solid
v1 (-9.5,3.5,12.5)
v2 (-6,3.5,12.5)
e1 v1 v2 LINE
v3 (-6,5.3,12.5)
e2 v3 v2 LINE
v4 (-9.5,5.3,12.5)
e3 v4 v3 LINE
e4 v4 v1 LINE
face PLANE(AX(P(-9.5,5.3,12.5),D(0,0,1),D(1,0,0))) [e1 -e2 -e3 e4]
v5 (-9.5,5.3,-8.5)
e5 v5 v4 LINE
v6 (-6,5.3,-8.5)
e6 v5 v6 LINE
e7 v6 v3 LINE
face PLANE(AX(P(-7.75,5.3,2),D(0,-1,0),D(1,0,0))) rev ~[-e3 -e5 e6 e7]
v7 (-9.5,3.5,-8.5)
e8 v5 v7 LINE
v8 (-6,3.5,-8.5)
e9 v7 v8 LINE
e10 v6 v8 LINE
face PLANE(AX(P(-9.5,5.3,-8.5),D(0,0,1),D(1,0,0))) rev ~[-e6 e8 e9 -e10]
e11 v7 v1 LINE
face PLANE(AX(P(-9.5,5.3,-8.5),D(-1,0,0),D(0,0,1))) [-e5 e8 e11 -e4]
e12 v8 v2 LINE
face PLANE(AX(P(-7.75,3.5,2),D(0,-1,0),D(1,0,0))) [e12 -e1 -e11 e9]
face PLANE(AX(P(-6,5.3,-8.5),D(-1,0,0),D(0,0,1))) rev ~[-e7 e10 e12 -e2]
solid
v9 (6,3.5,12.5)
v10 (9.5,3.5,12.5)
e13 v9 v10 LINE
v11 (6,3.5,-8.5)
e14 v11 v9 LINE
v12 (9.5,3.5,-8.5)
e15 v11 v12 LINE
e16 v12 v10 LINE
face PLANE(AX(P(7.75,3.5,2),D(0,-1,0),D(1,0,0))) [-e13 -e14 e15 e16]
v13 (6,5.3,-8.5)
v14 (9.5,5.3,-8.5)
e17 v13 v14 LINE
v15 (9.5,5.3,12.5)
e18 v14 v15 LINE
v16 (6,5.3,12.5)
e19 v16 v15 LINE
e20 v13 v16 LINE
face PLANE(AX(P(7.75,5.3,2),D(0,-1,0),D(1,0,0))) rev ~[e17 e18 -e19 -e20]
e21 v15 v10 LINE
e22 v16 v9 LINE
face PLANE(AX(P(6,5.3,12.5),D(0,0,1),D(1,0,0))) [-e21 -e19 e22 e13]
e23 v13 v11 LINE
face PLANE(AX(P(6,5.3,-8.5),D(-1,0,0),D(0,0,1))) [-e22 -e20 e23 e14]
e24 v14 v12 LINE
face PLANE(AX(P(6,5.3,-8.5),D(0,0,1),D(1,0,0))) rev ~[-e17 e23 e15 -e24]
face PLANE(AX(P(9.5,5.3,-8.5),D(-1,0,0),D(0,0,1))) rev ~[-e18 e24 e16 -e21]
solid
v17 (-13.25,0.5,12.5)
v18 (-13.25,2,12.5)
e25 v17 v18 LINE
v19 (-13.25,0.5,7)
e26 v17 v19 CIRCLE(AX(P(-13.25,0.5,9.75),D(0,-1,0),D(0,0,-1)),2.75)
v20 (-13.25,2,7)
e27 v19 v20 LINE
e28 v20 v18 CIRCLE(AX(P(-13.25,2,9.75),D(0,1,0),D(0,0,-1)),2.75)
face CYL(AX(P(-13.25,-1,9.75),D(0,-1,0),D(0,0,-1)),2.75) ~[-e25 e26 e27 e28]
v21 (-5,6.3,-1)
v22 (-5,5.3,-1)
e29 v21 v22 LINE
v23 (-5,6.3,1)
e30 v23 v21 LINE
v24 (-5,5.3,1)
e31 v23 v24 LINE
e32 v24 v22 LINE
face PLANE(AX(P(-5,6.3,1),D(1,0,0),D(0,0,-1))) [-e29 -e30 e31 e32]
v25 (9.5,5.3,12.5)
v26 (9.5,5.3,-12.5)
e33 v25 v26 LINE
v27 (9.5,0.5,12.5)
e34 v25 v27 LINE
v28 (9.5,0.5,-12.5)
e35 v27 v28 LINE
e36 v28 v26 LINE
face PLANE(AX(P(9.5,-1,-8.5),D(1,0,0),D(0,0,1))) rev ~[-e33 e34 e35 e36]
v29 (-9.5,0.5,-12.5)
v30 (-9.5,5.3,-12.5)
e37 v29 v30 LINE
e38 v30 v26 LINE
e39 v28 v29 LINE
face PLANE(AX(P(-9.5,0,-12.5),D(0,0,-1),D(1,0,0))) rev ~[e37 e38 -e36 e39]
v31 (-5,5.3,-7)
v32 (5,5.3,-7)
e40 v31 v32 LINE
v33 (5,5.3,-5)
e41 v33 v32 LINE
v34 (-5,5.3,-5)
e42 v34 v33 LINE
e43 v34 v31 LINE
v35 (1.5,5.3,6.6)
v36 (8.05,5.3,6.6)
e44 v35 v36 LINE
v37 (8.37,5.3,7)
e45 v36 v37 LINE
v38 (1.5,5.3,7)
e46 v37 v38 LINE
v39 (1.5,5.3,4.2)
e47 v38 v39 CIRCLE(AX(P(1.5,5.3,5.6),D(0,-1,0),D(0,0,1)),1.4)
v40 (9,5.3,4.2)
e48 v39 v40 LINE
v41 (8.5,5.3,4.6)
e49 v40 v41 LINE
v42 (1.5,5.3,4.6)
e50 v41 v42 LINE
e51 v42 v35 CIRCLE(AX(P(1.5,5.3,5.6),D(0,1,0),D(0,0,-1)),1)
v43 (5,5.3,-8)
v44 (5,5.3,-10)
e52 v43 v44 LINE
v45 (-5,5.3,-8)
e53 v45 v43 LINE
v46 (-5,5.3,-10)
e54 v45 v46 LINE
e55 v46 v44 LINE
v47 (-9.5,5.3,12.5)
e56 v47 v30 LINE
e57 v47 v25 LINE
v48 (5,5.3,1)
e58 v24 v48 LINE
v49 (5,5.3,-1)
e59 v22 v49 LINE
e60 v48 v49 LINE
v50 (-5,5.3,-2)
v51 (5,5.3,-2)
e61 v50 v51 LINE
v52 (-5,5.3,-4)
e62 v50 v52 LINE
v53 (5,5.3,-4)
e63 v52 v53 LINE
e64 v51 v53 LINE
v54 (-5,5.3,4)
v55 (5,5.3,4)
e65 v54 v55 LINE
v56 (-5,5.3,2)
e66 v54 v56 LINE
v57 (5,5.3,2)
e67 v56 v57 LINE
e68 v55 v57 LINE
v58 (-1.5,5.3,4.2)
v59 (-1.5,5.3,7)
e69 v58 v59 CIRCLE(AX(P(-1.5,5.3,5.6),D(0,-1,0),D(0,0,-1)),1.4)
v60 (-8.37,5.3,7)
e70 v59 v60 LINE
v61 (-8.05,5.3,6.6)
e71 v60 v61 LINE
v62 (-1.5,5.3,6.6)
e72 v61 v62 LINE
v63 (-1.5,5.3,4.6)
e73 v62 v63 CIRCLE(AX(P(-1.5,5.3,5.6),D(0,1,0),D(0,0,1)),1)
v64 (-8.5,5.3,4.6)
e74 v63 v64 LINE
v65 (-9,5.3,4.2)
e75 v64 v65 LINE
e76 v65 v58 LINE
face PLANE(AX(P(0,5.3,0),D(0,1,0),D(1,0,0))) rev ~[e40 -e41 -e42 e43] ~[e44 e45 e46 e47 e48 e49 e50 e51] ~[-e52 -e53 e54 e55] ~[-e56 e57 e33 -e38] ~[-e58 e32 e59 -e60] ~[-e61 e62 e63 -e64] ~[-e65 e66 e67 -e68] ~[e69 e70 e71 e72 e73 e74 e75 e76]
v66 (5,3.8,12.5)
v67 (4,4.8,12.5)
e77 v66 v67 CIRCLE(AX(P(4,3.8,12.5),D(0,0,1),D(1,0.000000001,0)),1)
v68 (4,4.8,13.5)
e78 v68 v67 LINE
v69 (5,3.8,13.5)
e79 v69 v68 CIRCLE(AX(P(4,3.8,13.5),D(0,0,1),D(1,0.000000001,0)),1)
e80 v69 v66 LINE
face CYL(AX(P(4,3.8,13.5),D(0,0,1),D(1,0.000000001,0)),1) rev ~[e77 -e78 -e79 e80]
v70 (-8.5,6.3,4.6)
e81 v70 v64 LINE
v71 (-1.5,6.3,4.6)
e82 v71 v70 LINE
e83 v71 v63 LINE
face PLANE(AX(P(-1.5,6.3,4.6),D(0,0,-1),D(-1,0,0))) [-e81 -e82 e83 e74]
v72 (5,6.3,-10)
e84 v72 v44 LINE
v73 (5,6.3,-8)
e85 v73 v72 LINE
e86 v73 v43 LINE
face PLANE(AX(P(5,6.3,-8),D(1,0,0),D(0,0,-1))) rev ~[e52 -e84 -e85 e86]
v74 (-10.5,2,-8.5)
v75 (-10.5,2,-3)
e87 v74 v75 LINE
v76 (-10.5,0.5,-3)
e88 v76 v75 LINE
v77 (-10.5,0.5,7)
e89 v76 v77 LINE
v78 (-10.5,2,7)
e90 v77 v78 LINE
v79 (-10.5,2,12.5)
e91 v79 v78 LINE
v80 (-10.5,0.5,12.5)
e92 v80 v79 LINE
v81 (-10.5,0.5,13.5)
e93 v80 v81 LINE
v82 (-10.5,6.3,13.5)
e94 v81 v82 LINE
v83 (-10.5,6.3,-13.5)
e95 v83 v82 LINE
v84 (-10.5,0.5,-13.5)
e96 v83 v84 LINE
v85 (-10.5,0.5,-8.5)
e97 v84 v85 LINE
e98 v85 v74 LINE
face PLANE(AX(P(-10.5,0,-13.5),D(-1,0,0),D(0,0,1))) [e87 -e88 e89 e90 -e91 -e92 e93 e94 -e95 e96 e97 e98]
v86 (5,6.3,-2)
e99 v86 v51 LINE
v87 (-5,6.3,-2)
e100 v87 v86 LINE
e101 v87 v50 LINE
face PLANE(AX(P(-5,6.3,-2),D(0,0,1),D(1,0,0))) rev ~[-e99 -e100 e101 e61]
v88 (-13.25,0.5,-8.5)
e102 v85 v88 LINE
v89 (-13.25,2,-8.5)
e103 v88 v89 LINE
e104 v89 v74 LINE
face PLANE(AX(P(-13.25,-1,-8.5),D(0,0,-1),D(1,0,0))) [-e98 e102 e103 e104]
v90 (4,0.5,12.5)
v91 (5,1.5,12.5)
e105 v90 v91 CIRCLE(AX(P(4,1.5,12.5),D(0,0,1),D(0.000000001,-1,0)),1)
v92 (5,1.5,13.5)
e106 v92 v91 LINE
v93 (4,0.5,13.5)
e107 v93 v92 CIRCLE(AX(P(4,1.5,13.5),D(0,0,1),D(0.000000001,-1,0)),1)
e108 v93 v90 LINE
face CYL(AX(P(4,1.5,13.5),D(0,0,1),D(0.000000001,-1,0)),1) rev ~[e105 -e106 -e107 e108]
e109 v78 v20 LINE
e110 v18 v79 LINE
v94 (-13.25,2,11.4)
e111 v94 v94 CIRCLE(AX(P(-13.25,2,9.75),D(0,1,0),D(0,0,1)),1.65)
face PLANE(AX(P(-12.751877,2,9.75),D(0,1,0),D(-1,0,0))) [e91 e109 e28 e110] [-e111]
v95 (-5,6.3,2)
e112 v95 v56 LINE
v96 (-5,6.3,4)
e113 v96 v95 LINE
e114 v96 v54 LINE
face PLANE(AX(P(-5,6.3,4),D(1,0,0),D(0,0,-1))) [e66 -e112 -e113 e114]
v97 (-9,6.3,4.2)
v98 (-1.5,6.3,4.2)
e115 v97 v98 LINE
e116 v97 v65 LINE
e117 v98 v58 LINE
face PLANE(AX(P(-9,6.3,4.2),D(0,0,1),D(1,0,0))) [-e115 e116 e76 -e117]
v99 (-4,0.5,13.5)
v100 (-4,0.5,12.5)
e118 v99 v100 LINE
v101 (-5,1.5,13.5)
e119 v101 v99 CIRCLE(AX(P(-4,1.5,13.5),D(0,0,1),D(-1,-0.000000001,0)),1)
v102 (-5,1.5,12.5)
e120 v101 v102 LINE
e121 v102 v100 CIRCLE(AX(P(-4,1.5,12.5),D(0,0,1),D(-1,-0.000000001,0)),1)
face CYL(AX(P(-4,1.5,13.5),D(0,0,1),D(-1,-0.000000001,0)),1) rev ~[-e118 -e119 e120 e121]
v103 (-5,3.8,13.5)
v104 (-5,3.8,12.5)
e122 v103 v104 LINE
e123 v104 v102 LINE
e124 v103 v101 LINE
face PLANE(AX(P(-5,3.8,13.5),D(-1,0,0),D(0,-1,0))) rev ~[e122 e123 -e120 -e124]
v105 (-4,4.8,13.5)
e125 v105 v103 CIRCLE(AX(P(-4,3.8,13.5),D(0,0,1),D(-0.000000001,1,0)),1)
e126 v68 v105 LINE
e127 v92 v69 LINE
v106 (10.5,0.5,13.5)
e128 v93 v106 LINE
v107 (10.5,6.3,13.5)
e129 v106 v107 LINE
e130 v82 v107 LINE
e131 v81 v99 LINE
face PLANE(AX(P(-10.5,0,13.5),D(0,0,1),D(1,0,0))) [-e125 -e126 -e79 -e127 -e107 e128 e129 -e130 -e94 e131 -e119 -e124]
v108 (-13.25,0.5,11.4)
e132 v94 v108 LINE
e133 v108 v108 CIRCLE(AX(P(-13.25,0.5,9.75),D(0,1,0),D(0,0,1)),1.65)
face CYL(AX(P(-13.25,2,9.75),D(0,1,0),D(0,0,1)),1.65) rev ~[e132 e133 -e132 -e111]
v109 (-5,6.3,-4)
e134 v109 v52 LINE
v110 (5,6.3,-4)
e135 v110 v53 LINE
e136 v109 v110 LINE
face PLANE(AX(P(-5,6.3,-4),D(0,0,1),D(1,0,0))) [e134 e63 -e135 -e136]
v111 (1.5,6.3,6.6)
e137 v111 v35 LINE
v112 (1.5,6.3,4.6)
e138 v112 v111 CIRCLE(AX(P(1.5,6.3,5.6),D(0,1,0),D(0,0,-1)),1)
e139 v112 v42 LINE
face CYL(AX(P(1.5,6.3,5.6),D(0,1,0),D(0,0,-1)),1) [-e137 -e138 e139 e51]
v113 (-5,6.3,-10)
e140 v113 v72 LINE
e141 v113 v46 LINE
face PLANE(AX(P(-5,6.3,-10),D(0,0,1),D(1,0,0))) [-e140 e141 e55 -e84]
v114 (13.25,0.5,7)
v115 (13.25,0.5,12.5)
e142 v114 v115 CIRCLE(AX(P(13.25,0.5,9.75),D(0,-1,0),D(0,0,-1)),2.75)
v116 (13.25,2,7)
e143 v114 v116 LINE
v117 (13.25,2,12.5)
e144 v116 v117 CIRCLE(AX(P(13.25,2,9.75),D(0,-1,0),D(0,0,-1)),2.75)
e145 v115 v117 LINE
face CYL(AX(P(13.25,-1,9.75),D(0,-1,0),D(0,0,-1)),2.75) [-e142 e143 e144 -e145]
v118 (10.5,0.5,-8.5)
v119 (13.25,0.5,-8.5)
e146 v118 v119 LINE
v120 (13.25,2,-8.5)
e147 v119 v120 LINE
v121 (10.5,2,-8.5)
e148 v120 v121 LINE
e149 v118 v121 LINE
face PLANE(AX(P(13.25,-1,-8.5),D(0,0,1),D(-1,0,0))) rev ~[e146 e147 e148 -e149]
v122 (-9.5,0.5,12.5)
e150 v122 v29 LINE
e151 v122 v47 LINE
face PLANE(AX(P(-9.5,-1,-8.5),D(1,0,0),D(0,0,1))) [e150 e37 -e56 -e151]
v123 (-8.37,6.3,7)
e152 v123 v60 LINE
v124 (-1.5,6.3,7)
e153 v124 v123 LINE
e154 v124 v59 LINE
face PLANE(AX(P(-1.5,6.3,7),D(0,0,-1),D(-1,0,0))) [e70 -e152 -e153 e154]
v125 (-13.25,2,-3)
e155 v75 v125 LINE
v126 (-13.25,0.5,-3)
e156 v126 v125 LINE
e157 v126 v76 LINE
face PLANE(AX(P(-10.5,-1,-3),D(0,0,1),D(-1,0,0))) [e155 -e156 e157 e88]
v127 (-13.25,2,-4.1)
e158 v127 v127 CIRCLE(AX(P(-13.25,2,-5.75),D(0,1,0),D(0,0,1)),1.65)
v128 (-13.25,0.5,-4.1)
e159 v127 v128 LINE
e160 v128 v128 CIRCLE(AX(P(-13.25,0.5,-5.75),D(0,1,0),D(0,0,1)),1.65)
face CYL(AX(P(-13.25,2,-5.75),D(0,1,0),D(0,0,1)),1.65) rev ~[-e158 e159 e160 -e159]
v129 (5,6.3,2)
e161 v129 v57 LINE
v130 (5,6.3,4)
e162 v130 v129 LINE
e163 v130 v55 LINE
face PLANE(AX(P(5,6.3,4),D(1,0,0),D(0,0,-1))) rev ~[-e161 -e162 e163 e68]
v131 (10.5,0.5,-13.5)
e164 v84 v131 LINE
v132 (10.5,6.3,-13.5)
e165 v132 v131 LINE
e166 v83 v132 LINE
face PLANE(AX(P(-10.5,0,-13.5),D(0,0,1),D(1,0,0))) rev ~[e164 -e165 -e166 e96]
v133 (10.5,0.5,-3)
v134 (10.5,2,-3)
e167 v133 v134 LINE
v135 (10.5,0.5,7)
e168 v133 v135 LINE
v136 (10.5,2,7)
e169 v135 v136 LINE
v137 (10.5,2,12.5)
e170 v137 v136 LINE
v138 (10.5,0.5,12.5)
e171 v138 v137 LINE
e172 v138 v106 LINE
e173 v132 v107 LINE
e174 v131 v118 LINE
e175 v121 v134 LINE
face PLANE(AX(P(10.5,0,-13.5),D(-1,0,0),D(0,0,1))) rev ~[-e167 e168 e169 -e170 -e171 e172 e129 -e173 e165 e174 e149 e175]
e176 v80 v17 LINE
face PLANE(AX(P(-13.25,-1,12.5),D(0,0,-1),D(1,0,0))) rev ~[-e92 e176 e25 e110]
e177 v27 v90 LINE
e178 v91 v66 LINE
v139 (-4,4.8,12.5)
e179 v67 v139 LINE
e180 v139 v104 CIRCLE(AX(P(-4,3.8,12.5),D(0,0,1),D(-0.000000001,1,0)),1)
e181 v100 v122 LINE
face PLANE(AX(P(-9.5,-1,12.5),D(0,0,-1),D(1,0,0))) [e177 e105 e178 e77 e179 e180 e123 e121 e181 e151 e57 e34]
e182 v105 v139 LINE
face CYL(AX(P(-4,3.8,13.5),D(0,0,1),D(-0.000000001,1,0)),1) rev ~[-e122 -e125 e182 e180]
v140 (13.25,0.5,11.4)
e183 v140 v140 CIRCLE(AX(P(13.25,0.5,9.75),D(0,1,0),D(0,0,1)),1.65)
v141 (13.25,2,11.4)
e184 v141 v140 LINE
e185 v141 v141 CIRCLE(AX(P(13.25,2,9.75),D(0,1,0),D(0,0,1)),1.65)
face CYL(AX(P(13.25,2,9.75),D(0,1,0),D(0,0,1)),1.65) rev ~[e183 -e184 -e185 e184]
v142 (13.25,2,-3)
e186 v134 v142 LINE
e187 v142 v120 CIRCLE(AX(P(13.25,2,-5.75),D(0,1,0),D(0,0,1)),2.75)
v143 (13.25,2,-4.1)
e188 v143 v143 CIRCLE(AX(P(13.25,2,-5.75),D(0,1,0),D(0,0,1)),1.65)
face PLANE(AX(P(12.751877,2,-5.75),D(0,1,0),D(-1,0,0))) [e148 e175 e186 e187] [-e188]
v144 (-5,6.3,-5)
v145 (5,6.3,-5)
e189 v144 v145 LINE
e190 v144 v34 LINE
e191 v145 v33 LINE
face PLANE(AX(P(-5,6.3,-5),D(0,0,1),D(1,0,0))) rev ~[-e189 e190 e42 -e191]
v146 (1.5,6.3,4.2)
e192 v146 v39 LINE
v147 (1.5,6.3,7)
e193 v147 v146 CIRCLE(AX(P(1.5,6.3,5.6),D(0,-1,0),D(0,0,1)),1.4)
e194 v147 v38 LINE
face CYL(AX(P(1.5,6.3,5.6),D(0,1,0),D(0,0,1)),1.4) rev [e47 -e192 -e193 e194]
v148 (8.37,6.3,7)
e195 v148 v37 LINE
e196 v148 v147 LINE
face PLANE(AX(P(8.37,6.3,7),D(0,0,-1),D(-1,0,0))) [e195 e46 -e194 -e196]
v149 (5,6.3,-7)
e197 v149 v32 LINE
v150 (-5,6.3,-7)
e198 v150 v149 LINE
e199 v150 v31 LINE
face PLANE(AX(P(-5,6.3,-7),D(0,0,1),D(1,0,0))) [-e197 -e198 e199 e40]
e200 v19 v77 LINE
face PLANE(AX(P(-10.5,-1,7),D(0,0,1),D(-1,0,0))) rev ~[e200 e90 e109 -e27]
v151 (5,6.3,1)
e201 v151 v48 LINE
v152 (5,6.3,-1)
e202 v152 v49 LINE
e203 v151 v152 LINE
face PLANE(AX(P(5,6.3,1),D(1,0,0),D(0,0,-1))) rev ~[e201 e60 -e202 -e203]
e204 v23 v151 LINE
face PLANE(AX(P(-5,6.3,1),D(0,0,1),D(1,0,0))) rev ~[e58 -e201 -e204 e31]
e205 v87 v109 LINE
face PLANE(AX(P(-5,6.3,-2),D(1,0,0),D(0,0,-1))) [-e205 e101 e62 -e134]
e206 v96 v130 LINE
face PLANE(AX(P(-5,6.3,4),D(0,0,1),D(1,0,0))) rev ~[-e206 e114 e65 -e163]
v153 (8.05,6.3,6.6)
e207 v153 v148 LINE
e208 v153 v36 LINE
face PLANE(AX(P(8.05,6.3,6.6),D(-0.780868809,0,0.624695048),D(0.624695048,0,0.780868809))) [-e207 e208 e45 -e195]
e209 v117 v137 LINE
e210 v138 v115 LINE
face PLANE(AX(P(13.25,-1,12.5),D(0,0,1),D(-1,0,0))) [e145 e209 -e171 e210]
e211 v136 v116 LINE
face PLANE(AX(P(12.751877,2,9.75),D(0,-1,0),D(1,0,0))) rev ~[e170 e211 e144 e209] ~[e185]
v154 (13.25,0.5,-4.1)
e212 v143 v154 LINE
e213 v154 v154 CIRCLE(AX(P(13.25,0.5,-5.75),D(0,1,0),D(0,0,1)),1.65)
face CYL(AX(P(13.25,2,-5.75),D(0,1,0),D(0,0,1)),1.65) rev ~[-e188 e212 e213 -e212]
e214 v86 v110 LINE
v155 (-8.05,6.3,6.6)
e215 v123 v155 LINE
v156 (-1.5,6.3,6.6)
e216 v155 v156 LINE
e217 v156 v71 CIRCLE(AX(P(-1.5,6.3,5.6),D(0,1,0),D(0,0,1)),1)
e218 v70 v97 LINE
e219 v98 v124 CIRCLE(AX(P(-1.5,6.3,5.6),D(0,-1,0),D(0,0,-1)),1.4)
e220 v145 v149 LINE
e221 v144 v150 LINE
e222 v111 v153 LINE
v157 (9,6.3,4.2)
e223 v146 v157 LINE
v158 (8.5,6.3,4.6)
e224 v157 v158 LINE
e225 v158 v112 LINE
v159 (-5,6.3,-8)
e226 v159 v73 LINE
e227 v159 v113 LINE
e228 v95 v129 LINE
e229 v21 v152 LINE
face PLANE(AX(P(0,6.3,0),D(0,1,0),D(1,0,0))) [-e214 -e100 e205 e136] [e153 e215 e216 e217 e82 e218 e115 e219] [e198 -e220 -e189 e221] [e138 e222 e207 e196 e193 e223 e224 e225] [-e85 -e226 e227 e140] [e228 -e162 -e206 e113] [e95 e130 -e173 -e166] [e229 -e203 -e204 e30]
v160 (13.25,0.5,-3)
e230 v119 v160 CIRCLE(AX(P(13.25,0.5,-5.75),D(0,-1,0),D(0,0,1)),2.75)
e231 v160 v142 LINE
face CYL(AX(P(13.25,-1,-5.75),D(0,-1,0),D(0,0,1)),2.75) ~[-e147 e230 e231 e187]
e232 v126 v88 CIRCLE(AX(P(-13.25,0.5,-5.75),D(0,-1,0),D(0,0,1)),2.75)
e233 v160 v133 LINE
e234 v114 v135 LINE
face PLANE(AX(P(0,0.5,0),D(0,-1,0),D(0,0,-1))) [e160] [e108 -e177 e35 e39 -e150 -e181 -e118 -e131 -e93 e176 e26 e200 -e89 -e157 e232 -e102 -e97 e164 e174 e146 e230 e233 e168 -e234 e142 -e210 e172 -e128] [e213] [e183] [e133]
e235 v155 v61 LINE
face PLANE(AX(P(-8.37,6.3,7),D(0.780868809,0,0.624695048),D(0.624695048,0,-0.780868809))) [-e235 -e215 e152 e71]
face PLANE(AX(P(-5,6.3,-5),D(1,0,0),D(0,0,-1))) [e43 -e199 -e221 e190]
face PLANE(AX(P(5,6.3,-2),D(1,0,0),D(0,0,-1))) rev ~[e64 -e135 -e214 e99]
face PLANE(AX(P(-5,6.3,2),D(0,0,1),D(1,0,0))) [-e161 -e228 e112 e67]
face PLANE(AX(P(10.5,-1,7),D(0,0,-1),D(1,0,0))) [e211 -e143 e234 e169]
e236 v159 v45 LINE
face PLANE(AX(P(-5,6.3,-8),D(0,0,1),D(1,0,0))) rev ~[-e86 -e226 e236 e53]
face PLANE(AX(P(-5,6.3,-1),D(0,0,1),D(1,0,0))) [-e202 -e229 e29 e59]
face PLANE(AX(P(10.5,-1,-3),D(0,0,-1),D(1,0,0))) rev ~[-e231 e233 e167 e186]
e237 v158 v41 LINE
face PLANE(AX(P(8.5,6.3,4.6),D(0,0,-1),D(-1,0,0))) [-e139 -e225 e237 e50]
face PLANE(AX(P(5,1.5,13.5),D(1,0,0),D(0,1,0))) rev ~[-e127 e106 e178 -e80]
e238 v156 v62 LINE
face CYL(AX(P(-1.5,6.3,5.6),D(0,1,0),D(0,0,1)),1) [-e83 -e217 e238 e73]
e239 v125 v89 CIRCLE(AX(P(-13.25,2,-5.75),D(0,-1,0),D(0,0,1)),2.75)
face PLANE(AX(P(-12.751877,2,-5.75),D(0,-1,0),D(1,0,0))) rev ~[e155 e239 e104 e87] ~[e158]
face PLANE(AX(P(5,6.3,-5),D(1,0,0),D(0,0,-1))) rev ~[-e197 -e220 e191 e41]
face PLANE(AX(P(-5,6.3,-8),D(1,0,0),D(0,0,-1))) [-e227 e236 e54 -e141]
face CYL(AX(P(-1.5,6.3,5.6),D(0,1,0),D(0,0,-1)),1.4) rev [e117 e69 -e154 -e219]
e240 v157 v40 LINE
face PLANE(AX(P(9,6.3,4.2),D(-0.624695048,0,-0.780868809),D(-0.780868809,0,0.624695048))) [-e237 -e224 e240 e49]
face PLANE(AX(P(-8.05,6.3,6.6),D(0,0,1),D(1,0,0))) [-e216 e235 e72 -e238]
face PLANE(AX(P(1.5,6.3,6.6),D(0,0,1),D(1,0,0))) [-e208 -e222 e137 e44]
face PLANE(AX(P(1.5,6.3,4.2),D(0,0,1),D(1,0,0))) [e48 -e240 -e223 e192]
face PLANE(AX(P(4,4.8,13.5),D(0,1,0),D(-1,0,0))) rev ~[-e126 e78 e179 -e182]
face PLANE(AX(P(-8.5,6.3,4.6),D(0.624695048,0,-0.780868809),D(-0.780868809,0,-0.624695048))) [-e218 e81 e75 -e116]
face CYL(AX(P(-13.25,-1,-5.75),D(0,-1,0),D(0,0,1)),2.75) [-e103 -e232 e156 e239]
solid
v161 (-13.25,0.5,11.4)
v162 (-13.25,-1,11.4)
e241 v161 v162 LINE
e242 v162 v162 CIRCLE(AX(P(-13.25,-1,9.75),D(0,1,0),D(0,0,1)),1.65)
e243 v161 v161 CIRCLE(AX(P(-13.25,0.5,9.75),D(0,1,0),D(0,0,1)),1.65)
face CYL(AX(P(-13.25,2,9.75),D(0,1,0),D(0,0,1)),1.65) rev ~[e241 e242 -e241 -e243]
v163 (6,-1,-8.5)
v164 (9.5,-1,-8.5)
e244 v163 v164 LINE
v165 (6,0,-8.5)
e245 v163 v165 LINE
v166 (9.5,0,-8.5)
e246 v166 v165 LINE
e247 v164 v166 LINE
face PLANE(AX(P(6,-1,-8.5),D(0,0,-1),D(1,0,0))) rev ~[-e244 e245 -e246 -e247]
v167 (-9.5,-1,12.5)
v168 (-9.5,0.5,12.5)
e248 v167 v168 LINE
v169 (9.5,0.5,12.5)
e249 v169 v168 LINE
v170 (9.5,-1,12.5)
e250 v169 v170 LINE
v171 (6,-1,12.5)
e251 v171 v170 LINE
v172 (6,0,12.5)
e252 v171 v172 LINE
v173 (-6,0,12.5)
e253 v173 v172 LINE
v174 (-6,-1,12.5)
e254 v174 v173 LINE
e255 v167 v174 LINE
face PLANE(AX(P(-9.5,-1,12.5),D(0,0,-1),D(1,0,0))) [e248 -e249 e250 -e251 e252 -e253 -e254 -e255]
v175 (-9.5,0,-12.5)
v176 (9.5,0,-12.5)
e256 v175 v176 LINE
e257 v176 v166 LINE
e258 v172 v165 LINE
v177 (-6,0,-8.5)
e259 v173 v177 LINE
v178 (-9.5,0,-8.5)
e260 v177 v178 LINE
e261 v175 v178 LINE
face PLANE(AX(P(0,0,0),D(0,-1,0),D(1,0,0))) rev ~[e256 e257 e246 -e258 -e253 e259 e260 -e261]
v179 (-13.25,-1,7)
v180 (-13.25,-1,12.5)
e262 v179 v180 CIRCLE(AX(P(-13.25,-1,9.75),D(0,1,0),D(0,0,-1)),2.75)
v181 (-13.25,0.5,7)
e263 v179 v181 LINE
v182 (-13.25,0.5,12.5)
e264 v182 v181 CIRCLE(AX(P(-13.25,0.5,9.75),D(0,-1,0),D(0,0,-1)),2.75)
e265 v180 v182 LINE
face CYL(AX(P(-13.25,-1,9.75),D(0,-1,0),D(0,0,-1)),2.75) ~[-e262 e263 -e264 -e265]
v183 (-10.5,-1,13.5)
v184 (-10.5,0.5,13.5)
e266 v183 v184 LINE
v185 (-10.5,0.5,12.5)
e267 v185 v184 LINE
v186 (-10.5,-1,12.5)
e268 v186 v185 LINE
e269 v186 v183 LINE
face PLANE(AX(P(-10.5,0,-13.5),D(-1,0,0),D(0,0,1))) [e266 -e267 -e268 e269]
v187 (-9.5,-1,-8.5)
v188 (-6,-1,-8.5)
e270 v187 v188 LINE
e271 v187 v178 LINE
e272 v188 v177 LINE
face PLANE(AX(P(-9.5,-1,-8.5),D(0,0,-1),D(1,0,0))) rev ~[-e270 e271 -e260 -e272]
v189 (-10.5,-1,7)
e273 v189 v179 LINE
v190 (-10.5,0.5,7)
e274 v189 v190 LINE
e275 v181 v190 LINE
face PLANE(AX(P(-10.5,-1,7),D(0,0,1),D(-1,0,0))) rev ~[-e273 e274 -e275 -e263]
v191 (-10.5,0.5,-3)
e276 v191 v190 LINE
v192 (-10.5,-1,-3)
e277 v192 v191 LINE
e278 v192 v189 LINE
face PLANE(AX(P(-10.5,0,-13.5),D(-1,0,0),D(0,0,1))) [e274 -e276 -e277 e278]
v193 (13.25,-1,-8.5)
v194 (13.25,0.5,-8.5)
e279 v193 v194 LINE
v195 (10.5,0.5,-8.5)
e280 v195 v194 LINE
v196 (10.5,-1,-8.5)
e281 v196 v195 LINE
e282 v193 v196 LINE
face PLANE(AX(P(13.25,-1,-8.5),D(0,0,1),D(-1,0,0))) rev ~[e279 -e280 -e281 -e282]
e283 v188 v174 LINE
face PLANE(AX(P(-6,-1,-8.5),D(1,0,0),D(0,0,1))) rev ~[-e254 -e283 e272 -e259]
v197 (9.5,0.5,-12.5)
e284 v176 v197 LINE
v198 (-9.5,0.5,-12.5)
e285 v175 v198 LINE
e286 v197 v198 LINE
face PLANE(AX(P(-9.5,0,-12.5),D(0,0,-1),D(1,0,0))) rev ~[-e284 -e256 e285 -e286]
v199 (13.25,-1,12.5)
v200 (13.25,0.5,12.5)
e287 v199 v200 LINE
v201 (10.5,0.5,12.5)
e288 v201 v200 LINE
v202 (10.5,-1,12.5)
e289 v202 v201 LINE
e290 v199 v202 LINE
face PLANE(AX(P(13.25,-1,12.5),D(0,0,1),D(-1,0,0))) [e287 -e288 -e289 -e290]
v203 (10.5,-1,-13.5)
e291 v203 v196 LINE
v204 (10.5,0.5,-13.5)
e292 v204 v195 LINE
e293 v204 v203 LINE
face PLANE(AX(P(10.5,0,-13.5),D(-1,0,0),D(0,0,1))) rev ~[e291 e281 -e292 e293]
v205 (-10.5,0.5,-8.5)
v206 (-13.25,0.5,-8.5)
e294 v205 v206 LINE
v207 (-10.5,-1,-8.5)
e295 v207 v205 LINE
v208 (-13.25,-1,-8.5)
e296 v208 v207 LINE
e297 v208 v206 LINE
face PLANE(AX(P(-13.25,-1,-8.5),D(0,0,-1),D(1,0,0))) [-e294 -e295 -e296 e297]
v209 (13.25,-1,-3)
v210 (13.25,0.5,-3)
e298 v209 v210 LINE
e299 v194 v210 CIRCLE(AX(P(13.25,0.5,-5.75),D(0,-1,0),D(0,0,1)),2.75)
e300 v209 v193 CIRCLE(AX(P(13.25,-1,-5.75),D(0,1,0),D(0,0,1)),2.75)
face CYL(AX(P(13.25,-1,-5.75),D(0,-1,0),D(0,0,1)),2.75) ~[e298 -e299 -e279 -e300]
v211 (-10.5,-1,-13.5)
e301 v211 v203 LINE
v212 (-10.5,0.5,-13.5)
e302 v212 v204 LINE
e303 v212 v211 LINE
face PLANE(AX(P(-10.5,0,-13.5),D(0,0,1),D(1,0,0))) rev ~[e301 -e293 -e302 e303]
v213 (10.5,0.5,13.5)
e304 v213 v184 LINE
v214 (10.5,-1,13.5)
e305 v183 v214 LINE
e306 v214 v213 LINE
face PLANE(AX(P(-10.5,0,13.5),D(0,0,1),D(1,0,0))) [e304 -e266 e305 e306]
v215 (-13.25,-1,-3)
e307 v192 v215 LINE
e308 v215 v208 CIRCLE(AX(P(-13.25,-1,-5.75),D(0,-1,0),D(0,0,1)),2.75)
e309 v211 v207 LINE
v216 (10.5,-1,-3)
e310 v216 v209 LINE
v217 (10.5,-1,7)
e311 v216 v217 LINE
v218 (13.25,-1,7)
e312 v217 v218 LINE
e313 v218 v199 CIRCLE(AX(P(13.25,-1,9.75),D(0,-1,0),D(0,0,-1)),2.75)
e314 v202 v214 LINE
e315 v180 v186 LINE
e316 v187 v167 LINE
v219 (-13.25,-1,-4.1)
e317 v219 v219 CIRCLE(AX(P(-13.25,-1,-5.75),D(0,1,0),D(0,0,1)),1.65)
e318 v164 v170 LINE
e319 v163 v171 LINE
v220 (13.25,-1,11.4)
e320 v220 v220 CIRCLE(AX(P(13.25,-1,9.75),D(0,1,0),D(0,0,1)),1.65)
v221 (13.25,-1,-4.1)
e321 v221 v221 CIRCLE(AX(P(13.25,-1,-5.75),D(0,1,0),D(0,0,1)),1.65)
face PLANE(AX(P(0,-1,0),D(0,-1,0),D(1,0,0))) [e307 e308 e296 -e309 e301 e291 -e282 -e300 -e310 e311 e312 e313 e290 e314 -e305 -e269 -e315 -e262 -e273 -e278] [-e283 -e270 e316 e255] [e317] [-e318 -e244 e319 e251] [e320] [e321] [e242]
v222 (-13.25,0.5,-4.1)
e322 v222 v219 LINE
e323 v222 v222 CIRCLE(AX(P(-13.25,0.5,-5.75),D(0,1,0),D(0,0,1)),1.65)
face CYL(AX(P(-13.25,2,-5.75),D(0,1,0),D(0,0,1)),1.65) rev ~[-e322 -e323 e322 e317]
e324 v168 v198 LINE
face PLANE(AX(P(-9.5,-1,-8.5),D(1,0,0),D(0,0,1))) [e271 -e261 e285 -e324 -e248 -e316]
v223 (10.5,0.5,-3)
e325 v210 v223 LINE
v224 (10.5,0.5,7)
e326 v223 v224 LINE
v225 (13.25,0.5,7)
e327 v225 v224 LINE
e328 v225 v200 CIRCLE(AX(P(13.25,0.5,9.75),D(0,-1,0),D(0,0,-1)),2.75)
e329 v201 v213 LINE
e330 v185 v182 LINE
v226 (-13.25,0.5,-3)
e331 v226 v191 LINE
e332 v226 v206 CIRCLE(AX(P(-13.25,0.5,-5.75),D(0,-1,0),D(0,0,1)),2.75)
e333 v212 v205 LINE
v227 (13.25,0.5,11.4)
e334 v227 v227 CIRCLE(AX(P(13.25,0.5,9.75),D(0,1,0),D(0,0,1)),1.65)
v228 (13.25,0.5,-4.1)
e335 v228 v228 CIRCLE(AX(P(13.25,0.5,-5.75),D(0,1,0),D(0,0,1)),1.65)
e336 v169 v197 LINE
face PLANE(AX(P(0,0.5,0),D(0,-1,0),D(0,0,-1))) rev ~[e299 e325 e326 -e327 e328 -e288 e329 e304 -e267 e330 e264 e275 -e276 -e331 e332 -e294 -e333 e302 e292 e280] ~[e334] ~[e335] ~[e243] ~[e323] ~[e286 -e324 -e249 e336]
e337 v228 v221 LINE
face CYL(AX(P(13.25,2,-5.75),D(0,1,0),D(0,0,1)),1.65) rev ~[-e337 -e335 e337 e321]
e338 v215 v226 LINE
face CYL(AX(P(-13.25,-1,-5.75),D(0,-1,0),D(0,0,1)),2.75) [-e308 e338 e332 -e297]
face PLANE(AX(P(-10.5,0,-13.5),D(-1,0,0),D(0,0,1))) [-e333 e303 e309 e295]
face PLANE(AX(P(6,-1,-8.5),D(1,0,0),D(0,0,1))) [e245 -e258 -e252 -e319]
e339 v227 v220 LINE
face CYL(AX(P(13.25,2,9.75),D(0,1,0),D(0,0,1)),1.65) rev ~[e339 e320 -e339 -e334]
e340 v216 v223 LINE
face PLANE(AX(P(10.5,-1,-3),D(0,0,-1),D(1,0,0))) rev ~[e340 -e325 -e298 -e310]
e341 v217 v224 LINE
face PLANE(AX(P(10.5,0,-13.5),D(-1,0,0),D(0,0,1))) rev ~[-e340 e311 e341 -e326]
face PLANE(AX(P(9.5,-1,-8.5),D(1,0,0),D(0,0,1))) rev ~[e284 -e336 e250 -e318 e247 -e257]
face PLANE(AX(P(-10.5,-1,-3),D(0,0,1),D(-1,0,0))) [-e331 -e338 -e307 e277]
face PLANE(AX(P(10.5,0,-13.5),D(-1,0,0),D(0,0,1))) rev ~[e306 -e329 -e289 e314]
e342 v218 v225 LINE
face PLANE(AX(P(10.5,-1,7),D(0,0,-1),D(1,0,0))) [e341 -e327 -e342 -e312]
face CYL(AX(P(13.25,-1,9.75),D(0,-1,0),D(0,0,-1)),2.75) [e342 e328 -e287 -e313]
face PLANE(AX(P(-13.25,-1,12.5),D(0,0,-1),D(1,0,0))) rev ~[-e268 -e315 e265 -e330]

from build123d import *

# Parameters (mm, degrees)
SKETCH_1_W          = 21
SKETCH_1_H          = 27
SKETCH_1_W_2        = 19
SKETCH_1_H_2        = 25
EXTRUDE_1_DEPTH     = 6.3
CUT_EXTRUDE_1_REACH = 31.647
SKETCH_3_W          = 21
SKETCH_3_H          = 27
EXTRUDE_1_2_DEPTH   = 1
CUT_EXTRUDE_2_REACH = 20.595
SKETCH_4_W          = 3.5
SKETCH_4_H          = 21
EXTRUDE_2_DEPTH     = 3
CUT_EXTRUDE_3_REACH = 23.371
SKETCH_6_R          = 1.65
SKETCH_7_W          = 19
SKETCH_7_H          = 25
EXTRUDE_3_DEPTH     = 1
SKETCH_8_W          = 3.5
SKETCH_8_H          = 21
EXTRUDE_4_DEPTH     = 1.8
EXTRUDE_4_2_DEPTH   = 1.8
SKETCH_9_W          = 10
SKETCH_9_H          = 2
CUT_EXTRUDE_6_DEPTH = 1
CUT_EXTRUDE_7_DEPTH = 1


with BuildPart() as part:
    # 草图1 → Extrude 1 (new body)
    with BuildSketch(Plane.XZ):
        Rectangle(SKETCH_1_W, SKETCH_1_H)
        Rectangle(SKETCH_1_W_2, SKETCH_1_H_2, mode=Mode.SUBTRACT)
    extrude(amount=-EXTRUDE_1_DEPTH)

    # 草图2 → 切除-拉伸1 (cut, up to next)
    with BuildSketch(Plane.XY.offset(13.5), mode=Mode.PRIVATE) as cut_extrude_1_sk1:
        with BuildLine():
            Line((-4, 0.5), (4, 0.5))
            ThreePointArc((4, 0.5), (4.707106781, 0.792893219), (5, 1.5))
            Line((5, 1.5), (5, 3.8))
            ThreePointArc((5, 3.8), (4.707106781, 4.507106781), (4, 4.8))
            Line((4, 4.8), (-4, 4.8))
            ThreePointArc((-4, 4.8), (-4.707106781, 4.507106781), (-5, 3.8))
            Line((-5, 3.8), (-5, 1.5))
            ThreePointArc((-5, 1.5), (-4.707106781, 0.792893219), (-4, 0.5))
        make_face()
    cut_extrude_1_tool1 = extrude(cut_extrude_1_sk1.sketch, amount=-CUT_EXTRUDE_1_REACH, mode=Mode.PRIVATE) & part.part
    add(cut_extrude_1_tool1.solids().sort_by_distance((0, 2.65, 13.5))[0], mode=Mode.SUBTRACT)

    # 草图3 → Extrude 1 2 (add)
    with BuildSketch(Plane.XZ):
        Rectangle(SKETCH_3_W, SKETCH_3_H)
    extrude(amount=EXTRUDE_1_2_DEPTH)

    # 草图4 → 切除-拉伸2 (cut, up to next)
    with BuildSketch(Plane.XZ.offset(1), mode=Mode.PRIVATE) as cut_extrude_2_sk1:
        with Locations((-7.75, 2)):
            Rectangle(SKETCH_4_W, SKETCH_4_H)
    cut_extrude_2_tool1 = extrude(cut_extrude_2_sk1.sketch, amount=-CUT_EXTRUDE_2_REACH, mode=Mode.PRIVATE) & part.part
    # 草图4 → 切除-拉伸2 (cut, up to next)
    with BuildSketch(Plane.XZ.offset(1), mode=Mode.PRIVATE) as cut_extrude_2_sk2:
        with Locations((7.75, 2)):
            Rectangle(SKETCH_4_W, SKETCH_4_H)
    cut_extrude_2_tool2 = extrude(cut_extrude_2_sk2.sketch, amount=-CUT_EXTRUDE_2_REACH, mode=Mode.PRIVATE) & part.part
    add(cut_extrude_2_tool1.solids().sort_by_distance((-7.75, -1, 2))[0], mode=Mode.SUBTRACT)
    add(cut_extrude_2_tool2.solids().sort_by_distance((7.75, -1, 2))[0], mode=Mode.SUBTRACT)

    # 草图5 → 凸台-拉伸2 (add)
    with BuildSketch(Plane.XZ.offset(1)):
        with BuildLine():
            Line((-13.25, 12.5), (-10.5, 12.5))
            Line((-10.5, 12.5), (-10.5, 7))
            Line((-10.5, 7), (-13.25, 7))
            ThreePointArc((-13.25, 7), (-16, 9.75), (-13.25, 12.5))
        make_face()
        with BuildLine():
            Line((-10.5, -8.5), (-10.5, -3))
            Line((-10.5, -3), (-13.25, -3))
            ThreePointArc((-13.25, -3), (-16, -5.75), (-13.25, -8.5))
            Line((-13.25, -8.5), (-10.5, -8.5))
        make_face()
        with BuildLine():
            Line((13.25, -8.5), (10.5, -8.5))
            Line((10.5, -8.5), (10.5, -3))
            Line((10.5, -3), (13.25, -3))
            ThreePointArc((13.25, -3), (16, -5.75), (13.25, -8.5))
        make_face()
        with BuildLine():
            Line((10.5, 12.5), (10.5, 7))
            Line((10.5, 7), (13.25, 7))
            ThreePointArc((13.25, 7), (16, 9.75), (13.25, 12.5))
            Line((13.25, 12.5), (10.5, 12.5))
        make_face()
    extrude(amount=-EXTRUDE_2_DEPTH)

    # 草图6 → 切除-拉伸3 (cut, up to next)
    with BuildSketch(Plane(origin=(0, 2, 0), x_dir=(1, 0, 0), z_dir=(0, 1, 0)), mode=Mode.PRIVATE) as cut_extrude_3_sk1:
        with Locations(Location((-13.25, 5.75, 0), (0, 0, 270))):
            Circle(SKETCH_6_R)
    cut_extrude_3_tool1 = extrude(cut_extrude_3_sk1.sketch, amount=-CUT_EXTRUDE_3_REACH, mode=Mode.PRIVATE) & part.part
    # 草图6 → 切除-拉伸3 (cut, up to next)
    with BuildSketch(Plane(origin=(0, 2, 0), x_dir=(1, 0, 0), z_dir=(0, 1, 0)), mode=Mode.PRIVATE) as cut_extrude_3_sk2:
        with Locations(Location((-13.25, -9.75, 0), (0, 0, 270))):
            Circle(SKETCH_6_R)
    cut_extrude_3_tool2 = extrude(cut_extrude_3_sk2.sketch, amount=-CUT_EXTRUDE_3_REACH, mode=Mode.PRIVATE) & part.part
    # 草图6 → 切除-拉伸3 (cut, up to next)
    with BuildSketch(Plane(origin=(0, 2, 0), x_dir=(1, 0, 0), z_dir=(0, 1, 0)), mode=Mode.PRIVATE) as cut_extrude_3_sk3:
        with Locations(Location((13.25, -9.75, 0), (0, 0, 270))):
            Circle(SKETCH_6_R)
    cut_extrude_3_tool3 = extrude(cut_extrude_3_sk3.sketch, amount=-CUT_EXTRUDE_3_REACH, mode=Mode.PRIVATE) & part.part
    # 草图6 → 切除-拉伸3 (cut, up to next)
    with BuildSketch(Plane(origin=(0, 2, 0), x_dir=(1, 0, 0), z_dir=(0, 1, 0)), mode=Mode.PRIVATE) as cut_extrude_3_sk4:
        with Locations(Location((13.25, 5.75, 0), (0, 0, 270))):
            Circle(SKETCH_6_R)
    cut_extrude_3_tool4 = extrude(cut_extrude_3_sk4.sketch, amount=-CUT_EXTRUDE_3_REACH, mode=Mode.PRIVATE) & part.part
    add(cut_extrude_3_tool1.solids().sort_by_distance((-13.25, 2, -5.75))[0], mode=Mode.SUBTRACT)
    add(cut_extrude_3_tool2.solids().sort_by_distance((-13.25, 2, 9.75))[0], mode=Mode.SUBTRACT)
    add(cut_extrude_3_tool3.solids().sort_by_distance((13.25, 2, 9.75))[0], mode=Mode.SUBTRACT)
    add(cut_extrude_3_tool4.solids().sort_by_distance((13.25, 2, -5.75))[0], mode=Mode.SUBTRACT)

    # 草图7 → 凸台-拉伸3 (add)
    with BuildSketch(Plane(origin=(0, 6.3, 0), x_dir=(1, 0, 0), z_dir=(0, 1, 0))):
        Rectangle(SKETCH_7_W, SKETCH_7_H)
    extrude(amount=-EXTRUDE_3_DEPTH)

    # 草图9 → 切除-拉伸6 (cut)
    with BuildSketch(Plane(origin=(0, 6.3, 0), x_dir=(1, 0, 0), z_dir=(0, 1, 0))):
        with Locations((0, 9)):
            Rectangle(SKETCH_9_W, SKETCH_9_H)
        with Locations((0, 6)):
            Rectangle(SKETCH_9_W, SKETCH_9_H)
        with Locations((0, 3)):
            Rectangle(SKETCH_9_W, SKETCH_9_H)
        Rectangle(SKETCH_9_W, SKETCH_9_H)
        with Locations((0, -3)):
            Rectangle(SKETCH_9_W, SKETCH_9_H)
    extrude(amount=-CUT_EXTRUDE_6_DEPTH, mode=Mode.SUBTRACT)

    # 草图10 → 切除-拉伸7 (cut)
    with BuildSketch(Plane(origin=(0, 6.3, 0), x_dir=(1, 0, 0), z_dir=(0, 1, 0))):
        with BuildLine():
            Line((-1.5, -4.6), (-8.5, -4.6))
            Line((-8.5, -4.6), (-9, -4.2))
            Line((-9, -4.2), (-1.5, -4.2))
            ThreePointArc((-1.5, -4.2), (-0.1, -5.6), (-1.5, -7))
            Line((-1.5, -7), (-8.37, -7))
            Line((-8.37, -7), (-8.05, -6.6))
            Line((-8.05, -6.6), (-1.5, -6.6))
            ThreePointArc((-1.5, -6.6), (-0.5, -5.6), (-1.5, -4.6))
        make_face()
        with BuildLine():
            Line((8.05, -6.6), (8.37, -7))
            Line((8.37, -7), (1.5, -7))
            ThreePointArc((1.5, -7), (0.1, -5.6), (1.5, -4.2))
            Line((1.5, -4.2), (9, -4.2))
            Line((9, -4.2), (8.5, -4.6))
            Line((8.5, -4.6), (1.5, -4.6))
            ThreePointArc((1.5, -4.6), (0.5, -5.6), (1.5, -6.6))
            Line((1.5, -6.6), (8.05, -6.6))
        make_face()
    extrude(amount=-CUT_EXTRUDE_7_DEPTH, mode=Mode.SUBTRACT)


with BuildPart() as body_2:
    # 草图8 → 凸台-拉伸4 (new body)
    with BuildSketch(Plane.XZ.offset(-5.3)):
        with Locations((-7.75, 2)):
            Rectangle(SKETCH_8_W, SKETCH_8_H)
    extrude(amount=EXTRUDE_4_DEPTH)


with BuildPart() as body_3:
    # 草图8 → Extrude 4 2 (new body)
    with BuildSketch(Plane.XZ.offset(-5.3)):
        with Locations((7.75, 2)):
            Rectangle(SKETCH_8_W, SKETCH_8_H)
    extrude(amount=EXTRUDE_4_2_DEPTH)


with BuildPart() as body_4:
    # Split Bodies 1: the piece on the far side of the plane
    add(part.part)
    split(bisect_by=Plane(origin=(0, 0.5, 0), x_dir=(0, 0, -1), z_dir=(0, -1, 0)), keep=Keep.BOTTOM)


with BuildPart() as part_1:
    add(part.part)

    # Split Bodies 1
    split(bisect_by=Plane(origin=(0, 0.5, 0), x_dir=(0, 0, -1), z_dir=(0, -1, 0)), keep=Keep.TOP)


solid = Compound([body_2.part, body_3.part, body_4.part, part_1.part])
